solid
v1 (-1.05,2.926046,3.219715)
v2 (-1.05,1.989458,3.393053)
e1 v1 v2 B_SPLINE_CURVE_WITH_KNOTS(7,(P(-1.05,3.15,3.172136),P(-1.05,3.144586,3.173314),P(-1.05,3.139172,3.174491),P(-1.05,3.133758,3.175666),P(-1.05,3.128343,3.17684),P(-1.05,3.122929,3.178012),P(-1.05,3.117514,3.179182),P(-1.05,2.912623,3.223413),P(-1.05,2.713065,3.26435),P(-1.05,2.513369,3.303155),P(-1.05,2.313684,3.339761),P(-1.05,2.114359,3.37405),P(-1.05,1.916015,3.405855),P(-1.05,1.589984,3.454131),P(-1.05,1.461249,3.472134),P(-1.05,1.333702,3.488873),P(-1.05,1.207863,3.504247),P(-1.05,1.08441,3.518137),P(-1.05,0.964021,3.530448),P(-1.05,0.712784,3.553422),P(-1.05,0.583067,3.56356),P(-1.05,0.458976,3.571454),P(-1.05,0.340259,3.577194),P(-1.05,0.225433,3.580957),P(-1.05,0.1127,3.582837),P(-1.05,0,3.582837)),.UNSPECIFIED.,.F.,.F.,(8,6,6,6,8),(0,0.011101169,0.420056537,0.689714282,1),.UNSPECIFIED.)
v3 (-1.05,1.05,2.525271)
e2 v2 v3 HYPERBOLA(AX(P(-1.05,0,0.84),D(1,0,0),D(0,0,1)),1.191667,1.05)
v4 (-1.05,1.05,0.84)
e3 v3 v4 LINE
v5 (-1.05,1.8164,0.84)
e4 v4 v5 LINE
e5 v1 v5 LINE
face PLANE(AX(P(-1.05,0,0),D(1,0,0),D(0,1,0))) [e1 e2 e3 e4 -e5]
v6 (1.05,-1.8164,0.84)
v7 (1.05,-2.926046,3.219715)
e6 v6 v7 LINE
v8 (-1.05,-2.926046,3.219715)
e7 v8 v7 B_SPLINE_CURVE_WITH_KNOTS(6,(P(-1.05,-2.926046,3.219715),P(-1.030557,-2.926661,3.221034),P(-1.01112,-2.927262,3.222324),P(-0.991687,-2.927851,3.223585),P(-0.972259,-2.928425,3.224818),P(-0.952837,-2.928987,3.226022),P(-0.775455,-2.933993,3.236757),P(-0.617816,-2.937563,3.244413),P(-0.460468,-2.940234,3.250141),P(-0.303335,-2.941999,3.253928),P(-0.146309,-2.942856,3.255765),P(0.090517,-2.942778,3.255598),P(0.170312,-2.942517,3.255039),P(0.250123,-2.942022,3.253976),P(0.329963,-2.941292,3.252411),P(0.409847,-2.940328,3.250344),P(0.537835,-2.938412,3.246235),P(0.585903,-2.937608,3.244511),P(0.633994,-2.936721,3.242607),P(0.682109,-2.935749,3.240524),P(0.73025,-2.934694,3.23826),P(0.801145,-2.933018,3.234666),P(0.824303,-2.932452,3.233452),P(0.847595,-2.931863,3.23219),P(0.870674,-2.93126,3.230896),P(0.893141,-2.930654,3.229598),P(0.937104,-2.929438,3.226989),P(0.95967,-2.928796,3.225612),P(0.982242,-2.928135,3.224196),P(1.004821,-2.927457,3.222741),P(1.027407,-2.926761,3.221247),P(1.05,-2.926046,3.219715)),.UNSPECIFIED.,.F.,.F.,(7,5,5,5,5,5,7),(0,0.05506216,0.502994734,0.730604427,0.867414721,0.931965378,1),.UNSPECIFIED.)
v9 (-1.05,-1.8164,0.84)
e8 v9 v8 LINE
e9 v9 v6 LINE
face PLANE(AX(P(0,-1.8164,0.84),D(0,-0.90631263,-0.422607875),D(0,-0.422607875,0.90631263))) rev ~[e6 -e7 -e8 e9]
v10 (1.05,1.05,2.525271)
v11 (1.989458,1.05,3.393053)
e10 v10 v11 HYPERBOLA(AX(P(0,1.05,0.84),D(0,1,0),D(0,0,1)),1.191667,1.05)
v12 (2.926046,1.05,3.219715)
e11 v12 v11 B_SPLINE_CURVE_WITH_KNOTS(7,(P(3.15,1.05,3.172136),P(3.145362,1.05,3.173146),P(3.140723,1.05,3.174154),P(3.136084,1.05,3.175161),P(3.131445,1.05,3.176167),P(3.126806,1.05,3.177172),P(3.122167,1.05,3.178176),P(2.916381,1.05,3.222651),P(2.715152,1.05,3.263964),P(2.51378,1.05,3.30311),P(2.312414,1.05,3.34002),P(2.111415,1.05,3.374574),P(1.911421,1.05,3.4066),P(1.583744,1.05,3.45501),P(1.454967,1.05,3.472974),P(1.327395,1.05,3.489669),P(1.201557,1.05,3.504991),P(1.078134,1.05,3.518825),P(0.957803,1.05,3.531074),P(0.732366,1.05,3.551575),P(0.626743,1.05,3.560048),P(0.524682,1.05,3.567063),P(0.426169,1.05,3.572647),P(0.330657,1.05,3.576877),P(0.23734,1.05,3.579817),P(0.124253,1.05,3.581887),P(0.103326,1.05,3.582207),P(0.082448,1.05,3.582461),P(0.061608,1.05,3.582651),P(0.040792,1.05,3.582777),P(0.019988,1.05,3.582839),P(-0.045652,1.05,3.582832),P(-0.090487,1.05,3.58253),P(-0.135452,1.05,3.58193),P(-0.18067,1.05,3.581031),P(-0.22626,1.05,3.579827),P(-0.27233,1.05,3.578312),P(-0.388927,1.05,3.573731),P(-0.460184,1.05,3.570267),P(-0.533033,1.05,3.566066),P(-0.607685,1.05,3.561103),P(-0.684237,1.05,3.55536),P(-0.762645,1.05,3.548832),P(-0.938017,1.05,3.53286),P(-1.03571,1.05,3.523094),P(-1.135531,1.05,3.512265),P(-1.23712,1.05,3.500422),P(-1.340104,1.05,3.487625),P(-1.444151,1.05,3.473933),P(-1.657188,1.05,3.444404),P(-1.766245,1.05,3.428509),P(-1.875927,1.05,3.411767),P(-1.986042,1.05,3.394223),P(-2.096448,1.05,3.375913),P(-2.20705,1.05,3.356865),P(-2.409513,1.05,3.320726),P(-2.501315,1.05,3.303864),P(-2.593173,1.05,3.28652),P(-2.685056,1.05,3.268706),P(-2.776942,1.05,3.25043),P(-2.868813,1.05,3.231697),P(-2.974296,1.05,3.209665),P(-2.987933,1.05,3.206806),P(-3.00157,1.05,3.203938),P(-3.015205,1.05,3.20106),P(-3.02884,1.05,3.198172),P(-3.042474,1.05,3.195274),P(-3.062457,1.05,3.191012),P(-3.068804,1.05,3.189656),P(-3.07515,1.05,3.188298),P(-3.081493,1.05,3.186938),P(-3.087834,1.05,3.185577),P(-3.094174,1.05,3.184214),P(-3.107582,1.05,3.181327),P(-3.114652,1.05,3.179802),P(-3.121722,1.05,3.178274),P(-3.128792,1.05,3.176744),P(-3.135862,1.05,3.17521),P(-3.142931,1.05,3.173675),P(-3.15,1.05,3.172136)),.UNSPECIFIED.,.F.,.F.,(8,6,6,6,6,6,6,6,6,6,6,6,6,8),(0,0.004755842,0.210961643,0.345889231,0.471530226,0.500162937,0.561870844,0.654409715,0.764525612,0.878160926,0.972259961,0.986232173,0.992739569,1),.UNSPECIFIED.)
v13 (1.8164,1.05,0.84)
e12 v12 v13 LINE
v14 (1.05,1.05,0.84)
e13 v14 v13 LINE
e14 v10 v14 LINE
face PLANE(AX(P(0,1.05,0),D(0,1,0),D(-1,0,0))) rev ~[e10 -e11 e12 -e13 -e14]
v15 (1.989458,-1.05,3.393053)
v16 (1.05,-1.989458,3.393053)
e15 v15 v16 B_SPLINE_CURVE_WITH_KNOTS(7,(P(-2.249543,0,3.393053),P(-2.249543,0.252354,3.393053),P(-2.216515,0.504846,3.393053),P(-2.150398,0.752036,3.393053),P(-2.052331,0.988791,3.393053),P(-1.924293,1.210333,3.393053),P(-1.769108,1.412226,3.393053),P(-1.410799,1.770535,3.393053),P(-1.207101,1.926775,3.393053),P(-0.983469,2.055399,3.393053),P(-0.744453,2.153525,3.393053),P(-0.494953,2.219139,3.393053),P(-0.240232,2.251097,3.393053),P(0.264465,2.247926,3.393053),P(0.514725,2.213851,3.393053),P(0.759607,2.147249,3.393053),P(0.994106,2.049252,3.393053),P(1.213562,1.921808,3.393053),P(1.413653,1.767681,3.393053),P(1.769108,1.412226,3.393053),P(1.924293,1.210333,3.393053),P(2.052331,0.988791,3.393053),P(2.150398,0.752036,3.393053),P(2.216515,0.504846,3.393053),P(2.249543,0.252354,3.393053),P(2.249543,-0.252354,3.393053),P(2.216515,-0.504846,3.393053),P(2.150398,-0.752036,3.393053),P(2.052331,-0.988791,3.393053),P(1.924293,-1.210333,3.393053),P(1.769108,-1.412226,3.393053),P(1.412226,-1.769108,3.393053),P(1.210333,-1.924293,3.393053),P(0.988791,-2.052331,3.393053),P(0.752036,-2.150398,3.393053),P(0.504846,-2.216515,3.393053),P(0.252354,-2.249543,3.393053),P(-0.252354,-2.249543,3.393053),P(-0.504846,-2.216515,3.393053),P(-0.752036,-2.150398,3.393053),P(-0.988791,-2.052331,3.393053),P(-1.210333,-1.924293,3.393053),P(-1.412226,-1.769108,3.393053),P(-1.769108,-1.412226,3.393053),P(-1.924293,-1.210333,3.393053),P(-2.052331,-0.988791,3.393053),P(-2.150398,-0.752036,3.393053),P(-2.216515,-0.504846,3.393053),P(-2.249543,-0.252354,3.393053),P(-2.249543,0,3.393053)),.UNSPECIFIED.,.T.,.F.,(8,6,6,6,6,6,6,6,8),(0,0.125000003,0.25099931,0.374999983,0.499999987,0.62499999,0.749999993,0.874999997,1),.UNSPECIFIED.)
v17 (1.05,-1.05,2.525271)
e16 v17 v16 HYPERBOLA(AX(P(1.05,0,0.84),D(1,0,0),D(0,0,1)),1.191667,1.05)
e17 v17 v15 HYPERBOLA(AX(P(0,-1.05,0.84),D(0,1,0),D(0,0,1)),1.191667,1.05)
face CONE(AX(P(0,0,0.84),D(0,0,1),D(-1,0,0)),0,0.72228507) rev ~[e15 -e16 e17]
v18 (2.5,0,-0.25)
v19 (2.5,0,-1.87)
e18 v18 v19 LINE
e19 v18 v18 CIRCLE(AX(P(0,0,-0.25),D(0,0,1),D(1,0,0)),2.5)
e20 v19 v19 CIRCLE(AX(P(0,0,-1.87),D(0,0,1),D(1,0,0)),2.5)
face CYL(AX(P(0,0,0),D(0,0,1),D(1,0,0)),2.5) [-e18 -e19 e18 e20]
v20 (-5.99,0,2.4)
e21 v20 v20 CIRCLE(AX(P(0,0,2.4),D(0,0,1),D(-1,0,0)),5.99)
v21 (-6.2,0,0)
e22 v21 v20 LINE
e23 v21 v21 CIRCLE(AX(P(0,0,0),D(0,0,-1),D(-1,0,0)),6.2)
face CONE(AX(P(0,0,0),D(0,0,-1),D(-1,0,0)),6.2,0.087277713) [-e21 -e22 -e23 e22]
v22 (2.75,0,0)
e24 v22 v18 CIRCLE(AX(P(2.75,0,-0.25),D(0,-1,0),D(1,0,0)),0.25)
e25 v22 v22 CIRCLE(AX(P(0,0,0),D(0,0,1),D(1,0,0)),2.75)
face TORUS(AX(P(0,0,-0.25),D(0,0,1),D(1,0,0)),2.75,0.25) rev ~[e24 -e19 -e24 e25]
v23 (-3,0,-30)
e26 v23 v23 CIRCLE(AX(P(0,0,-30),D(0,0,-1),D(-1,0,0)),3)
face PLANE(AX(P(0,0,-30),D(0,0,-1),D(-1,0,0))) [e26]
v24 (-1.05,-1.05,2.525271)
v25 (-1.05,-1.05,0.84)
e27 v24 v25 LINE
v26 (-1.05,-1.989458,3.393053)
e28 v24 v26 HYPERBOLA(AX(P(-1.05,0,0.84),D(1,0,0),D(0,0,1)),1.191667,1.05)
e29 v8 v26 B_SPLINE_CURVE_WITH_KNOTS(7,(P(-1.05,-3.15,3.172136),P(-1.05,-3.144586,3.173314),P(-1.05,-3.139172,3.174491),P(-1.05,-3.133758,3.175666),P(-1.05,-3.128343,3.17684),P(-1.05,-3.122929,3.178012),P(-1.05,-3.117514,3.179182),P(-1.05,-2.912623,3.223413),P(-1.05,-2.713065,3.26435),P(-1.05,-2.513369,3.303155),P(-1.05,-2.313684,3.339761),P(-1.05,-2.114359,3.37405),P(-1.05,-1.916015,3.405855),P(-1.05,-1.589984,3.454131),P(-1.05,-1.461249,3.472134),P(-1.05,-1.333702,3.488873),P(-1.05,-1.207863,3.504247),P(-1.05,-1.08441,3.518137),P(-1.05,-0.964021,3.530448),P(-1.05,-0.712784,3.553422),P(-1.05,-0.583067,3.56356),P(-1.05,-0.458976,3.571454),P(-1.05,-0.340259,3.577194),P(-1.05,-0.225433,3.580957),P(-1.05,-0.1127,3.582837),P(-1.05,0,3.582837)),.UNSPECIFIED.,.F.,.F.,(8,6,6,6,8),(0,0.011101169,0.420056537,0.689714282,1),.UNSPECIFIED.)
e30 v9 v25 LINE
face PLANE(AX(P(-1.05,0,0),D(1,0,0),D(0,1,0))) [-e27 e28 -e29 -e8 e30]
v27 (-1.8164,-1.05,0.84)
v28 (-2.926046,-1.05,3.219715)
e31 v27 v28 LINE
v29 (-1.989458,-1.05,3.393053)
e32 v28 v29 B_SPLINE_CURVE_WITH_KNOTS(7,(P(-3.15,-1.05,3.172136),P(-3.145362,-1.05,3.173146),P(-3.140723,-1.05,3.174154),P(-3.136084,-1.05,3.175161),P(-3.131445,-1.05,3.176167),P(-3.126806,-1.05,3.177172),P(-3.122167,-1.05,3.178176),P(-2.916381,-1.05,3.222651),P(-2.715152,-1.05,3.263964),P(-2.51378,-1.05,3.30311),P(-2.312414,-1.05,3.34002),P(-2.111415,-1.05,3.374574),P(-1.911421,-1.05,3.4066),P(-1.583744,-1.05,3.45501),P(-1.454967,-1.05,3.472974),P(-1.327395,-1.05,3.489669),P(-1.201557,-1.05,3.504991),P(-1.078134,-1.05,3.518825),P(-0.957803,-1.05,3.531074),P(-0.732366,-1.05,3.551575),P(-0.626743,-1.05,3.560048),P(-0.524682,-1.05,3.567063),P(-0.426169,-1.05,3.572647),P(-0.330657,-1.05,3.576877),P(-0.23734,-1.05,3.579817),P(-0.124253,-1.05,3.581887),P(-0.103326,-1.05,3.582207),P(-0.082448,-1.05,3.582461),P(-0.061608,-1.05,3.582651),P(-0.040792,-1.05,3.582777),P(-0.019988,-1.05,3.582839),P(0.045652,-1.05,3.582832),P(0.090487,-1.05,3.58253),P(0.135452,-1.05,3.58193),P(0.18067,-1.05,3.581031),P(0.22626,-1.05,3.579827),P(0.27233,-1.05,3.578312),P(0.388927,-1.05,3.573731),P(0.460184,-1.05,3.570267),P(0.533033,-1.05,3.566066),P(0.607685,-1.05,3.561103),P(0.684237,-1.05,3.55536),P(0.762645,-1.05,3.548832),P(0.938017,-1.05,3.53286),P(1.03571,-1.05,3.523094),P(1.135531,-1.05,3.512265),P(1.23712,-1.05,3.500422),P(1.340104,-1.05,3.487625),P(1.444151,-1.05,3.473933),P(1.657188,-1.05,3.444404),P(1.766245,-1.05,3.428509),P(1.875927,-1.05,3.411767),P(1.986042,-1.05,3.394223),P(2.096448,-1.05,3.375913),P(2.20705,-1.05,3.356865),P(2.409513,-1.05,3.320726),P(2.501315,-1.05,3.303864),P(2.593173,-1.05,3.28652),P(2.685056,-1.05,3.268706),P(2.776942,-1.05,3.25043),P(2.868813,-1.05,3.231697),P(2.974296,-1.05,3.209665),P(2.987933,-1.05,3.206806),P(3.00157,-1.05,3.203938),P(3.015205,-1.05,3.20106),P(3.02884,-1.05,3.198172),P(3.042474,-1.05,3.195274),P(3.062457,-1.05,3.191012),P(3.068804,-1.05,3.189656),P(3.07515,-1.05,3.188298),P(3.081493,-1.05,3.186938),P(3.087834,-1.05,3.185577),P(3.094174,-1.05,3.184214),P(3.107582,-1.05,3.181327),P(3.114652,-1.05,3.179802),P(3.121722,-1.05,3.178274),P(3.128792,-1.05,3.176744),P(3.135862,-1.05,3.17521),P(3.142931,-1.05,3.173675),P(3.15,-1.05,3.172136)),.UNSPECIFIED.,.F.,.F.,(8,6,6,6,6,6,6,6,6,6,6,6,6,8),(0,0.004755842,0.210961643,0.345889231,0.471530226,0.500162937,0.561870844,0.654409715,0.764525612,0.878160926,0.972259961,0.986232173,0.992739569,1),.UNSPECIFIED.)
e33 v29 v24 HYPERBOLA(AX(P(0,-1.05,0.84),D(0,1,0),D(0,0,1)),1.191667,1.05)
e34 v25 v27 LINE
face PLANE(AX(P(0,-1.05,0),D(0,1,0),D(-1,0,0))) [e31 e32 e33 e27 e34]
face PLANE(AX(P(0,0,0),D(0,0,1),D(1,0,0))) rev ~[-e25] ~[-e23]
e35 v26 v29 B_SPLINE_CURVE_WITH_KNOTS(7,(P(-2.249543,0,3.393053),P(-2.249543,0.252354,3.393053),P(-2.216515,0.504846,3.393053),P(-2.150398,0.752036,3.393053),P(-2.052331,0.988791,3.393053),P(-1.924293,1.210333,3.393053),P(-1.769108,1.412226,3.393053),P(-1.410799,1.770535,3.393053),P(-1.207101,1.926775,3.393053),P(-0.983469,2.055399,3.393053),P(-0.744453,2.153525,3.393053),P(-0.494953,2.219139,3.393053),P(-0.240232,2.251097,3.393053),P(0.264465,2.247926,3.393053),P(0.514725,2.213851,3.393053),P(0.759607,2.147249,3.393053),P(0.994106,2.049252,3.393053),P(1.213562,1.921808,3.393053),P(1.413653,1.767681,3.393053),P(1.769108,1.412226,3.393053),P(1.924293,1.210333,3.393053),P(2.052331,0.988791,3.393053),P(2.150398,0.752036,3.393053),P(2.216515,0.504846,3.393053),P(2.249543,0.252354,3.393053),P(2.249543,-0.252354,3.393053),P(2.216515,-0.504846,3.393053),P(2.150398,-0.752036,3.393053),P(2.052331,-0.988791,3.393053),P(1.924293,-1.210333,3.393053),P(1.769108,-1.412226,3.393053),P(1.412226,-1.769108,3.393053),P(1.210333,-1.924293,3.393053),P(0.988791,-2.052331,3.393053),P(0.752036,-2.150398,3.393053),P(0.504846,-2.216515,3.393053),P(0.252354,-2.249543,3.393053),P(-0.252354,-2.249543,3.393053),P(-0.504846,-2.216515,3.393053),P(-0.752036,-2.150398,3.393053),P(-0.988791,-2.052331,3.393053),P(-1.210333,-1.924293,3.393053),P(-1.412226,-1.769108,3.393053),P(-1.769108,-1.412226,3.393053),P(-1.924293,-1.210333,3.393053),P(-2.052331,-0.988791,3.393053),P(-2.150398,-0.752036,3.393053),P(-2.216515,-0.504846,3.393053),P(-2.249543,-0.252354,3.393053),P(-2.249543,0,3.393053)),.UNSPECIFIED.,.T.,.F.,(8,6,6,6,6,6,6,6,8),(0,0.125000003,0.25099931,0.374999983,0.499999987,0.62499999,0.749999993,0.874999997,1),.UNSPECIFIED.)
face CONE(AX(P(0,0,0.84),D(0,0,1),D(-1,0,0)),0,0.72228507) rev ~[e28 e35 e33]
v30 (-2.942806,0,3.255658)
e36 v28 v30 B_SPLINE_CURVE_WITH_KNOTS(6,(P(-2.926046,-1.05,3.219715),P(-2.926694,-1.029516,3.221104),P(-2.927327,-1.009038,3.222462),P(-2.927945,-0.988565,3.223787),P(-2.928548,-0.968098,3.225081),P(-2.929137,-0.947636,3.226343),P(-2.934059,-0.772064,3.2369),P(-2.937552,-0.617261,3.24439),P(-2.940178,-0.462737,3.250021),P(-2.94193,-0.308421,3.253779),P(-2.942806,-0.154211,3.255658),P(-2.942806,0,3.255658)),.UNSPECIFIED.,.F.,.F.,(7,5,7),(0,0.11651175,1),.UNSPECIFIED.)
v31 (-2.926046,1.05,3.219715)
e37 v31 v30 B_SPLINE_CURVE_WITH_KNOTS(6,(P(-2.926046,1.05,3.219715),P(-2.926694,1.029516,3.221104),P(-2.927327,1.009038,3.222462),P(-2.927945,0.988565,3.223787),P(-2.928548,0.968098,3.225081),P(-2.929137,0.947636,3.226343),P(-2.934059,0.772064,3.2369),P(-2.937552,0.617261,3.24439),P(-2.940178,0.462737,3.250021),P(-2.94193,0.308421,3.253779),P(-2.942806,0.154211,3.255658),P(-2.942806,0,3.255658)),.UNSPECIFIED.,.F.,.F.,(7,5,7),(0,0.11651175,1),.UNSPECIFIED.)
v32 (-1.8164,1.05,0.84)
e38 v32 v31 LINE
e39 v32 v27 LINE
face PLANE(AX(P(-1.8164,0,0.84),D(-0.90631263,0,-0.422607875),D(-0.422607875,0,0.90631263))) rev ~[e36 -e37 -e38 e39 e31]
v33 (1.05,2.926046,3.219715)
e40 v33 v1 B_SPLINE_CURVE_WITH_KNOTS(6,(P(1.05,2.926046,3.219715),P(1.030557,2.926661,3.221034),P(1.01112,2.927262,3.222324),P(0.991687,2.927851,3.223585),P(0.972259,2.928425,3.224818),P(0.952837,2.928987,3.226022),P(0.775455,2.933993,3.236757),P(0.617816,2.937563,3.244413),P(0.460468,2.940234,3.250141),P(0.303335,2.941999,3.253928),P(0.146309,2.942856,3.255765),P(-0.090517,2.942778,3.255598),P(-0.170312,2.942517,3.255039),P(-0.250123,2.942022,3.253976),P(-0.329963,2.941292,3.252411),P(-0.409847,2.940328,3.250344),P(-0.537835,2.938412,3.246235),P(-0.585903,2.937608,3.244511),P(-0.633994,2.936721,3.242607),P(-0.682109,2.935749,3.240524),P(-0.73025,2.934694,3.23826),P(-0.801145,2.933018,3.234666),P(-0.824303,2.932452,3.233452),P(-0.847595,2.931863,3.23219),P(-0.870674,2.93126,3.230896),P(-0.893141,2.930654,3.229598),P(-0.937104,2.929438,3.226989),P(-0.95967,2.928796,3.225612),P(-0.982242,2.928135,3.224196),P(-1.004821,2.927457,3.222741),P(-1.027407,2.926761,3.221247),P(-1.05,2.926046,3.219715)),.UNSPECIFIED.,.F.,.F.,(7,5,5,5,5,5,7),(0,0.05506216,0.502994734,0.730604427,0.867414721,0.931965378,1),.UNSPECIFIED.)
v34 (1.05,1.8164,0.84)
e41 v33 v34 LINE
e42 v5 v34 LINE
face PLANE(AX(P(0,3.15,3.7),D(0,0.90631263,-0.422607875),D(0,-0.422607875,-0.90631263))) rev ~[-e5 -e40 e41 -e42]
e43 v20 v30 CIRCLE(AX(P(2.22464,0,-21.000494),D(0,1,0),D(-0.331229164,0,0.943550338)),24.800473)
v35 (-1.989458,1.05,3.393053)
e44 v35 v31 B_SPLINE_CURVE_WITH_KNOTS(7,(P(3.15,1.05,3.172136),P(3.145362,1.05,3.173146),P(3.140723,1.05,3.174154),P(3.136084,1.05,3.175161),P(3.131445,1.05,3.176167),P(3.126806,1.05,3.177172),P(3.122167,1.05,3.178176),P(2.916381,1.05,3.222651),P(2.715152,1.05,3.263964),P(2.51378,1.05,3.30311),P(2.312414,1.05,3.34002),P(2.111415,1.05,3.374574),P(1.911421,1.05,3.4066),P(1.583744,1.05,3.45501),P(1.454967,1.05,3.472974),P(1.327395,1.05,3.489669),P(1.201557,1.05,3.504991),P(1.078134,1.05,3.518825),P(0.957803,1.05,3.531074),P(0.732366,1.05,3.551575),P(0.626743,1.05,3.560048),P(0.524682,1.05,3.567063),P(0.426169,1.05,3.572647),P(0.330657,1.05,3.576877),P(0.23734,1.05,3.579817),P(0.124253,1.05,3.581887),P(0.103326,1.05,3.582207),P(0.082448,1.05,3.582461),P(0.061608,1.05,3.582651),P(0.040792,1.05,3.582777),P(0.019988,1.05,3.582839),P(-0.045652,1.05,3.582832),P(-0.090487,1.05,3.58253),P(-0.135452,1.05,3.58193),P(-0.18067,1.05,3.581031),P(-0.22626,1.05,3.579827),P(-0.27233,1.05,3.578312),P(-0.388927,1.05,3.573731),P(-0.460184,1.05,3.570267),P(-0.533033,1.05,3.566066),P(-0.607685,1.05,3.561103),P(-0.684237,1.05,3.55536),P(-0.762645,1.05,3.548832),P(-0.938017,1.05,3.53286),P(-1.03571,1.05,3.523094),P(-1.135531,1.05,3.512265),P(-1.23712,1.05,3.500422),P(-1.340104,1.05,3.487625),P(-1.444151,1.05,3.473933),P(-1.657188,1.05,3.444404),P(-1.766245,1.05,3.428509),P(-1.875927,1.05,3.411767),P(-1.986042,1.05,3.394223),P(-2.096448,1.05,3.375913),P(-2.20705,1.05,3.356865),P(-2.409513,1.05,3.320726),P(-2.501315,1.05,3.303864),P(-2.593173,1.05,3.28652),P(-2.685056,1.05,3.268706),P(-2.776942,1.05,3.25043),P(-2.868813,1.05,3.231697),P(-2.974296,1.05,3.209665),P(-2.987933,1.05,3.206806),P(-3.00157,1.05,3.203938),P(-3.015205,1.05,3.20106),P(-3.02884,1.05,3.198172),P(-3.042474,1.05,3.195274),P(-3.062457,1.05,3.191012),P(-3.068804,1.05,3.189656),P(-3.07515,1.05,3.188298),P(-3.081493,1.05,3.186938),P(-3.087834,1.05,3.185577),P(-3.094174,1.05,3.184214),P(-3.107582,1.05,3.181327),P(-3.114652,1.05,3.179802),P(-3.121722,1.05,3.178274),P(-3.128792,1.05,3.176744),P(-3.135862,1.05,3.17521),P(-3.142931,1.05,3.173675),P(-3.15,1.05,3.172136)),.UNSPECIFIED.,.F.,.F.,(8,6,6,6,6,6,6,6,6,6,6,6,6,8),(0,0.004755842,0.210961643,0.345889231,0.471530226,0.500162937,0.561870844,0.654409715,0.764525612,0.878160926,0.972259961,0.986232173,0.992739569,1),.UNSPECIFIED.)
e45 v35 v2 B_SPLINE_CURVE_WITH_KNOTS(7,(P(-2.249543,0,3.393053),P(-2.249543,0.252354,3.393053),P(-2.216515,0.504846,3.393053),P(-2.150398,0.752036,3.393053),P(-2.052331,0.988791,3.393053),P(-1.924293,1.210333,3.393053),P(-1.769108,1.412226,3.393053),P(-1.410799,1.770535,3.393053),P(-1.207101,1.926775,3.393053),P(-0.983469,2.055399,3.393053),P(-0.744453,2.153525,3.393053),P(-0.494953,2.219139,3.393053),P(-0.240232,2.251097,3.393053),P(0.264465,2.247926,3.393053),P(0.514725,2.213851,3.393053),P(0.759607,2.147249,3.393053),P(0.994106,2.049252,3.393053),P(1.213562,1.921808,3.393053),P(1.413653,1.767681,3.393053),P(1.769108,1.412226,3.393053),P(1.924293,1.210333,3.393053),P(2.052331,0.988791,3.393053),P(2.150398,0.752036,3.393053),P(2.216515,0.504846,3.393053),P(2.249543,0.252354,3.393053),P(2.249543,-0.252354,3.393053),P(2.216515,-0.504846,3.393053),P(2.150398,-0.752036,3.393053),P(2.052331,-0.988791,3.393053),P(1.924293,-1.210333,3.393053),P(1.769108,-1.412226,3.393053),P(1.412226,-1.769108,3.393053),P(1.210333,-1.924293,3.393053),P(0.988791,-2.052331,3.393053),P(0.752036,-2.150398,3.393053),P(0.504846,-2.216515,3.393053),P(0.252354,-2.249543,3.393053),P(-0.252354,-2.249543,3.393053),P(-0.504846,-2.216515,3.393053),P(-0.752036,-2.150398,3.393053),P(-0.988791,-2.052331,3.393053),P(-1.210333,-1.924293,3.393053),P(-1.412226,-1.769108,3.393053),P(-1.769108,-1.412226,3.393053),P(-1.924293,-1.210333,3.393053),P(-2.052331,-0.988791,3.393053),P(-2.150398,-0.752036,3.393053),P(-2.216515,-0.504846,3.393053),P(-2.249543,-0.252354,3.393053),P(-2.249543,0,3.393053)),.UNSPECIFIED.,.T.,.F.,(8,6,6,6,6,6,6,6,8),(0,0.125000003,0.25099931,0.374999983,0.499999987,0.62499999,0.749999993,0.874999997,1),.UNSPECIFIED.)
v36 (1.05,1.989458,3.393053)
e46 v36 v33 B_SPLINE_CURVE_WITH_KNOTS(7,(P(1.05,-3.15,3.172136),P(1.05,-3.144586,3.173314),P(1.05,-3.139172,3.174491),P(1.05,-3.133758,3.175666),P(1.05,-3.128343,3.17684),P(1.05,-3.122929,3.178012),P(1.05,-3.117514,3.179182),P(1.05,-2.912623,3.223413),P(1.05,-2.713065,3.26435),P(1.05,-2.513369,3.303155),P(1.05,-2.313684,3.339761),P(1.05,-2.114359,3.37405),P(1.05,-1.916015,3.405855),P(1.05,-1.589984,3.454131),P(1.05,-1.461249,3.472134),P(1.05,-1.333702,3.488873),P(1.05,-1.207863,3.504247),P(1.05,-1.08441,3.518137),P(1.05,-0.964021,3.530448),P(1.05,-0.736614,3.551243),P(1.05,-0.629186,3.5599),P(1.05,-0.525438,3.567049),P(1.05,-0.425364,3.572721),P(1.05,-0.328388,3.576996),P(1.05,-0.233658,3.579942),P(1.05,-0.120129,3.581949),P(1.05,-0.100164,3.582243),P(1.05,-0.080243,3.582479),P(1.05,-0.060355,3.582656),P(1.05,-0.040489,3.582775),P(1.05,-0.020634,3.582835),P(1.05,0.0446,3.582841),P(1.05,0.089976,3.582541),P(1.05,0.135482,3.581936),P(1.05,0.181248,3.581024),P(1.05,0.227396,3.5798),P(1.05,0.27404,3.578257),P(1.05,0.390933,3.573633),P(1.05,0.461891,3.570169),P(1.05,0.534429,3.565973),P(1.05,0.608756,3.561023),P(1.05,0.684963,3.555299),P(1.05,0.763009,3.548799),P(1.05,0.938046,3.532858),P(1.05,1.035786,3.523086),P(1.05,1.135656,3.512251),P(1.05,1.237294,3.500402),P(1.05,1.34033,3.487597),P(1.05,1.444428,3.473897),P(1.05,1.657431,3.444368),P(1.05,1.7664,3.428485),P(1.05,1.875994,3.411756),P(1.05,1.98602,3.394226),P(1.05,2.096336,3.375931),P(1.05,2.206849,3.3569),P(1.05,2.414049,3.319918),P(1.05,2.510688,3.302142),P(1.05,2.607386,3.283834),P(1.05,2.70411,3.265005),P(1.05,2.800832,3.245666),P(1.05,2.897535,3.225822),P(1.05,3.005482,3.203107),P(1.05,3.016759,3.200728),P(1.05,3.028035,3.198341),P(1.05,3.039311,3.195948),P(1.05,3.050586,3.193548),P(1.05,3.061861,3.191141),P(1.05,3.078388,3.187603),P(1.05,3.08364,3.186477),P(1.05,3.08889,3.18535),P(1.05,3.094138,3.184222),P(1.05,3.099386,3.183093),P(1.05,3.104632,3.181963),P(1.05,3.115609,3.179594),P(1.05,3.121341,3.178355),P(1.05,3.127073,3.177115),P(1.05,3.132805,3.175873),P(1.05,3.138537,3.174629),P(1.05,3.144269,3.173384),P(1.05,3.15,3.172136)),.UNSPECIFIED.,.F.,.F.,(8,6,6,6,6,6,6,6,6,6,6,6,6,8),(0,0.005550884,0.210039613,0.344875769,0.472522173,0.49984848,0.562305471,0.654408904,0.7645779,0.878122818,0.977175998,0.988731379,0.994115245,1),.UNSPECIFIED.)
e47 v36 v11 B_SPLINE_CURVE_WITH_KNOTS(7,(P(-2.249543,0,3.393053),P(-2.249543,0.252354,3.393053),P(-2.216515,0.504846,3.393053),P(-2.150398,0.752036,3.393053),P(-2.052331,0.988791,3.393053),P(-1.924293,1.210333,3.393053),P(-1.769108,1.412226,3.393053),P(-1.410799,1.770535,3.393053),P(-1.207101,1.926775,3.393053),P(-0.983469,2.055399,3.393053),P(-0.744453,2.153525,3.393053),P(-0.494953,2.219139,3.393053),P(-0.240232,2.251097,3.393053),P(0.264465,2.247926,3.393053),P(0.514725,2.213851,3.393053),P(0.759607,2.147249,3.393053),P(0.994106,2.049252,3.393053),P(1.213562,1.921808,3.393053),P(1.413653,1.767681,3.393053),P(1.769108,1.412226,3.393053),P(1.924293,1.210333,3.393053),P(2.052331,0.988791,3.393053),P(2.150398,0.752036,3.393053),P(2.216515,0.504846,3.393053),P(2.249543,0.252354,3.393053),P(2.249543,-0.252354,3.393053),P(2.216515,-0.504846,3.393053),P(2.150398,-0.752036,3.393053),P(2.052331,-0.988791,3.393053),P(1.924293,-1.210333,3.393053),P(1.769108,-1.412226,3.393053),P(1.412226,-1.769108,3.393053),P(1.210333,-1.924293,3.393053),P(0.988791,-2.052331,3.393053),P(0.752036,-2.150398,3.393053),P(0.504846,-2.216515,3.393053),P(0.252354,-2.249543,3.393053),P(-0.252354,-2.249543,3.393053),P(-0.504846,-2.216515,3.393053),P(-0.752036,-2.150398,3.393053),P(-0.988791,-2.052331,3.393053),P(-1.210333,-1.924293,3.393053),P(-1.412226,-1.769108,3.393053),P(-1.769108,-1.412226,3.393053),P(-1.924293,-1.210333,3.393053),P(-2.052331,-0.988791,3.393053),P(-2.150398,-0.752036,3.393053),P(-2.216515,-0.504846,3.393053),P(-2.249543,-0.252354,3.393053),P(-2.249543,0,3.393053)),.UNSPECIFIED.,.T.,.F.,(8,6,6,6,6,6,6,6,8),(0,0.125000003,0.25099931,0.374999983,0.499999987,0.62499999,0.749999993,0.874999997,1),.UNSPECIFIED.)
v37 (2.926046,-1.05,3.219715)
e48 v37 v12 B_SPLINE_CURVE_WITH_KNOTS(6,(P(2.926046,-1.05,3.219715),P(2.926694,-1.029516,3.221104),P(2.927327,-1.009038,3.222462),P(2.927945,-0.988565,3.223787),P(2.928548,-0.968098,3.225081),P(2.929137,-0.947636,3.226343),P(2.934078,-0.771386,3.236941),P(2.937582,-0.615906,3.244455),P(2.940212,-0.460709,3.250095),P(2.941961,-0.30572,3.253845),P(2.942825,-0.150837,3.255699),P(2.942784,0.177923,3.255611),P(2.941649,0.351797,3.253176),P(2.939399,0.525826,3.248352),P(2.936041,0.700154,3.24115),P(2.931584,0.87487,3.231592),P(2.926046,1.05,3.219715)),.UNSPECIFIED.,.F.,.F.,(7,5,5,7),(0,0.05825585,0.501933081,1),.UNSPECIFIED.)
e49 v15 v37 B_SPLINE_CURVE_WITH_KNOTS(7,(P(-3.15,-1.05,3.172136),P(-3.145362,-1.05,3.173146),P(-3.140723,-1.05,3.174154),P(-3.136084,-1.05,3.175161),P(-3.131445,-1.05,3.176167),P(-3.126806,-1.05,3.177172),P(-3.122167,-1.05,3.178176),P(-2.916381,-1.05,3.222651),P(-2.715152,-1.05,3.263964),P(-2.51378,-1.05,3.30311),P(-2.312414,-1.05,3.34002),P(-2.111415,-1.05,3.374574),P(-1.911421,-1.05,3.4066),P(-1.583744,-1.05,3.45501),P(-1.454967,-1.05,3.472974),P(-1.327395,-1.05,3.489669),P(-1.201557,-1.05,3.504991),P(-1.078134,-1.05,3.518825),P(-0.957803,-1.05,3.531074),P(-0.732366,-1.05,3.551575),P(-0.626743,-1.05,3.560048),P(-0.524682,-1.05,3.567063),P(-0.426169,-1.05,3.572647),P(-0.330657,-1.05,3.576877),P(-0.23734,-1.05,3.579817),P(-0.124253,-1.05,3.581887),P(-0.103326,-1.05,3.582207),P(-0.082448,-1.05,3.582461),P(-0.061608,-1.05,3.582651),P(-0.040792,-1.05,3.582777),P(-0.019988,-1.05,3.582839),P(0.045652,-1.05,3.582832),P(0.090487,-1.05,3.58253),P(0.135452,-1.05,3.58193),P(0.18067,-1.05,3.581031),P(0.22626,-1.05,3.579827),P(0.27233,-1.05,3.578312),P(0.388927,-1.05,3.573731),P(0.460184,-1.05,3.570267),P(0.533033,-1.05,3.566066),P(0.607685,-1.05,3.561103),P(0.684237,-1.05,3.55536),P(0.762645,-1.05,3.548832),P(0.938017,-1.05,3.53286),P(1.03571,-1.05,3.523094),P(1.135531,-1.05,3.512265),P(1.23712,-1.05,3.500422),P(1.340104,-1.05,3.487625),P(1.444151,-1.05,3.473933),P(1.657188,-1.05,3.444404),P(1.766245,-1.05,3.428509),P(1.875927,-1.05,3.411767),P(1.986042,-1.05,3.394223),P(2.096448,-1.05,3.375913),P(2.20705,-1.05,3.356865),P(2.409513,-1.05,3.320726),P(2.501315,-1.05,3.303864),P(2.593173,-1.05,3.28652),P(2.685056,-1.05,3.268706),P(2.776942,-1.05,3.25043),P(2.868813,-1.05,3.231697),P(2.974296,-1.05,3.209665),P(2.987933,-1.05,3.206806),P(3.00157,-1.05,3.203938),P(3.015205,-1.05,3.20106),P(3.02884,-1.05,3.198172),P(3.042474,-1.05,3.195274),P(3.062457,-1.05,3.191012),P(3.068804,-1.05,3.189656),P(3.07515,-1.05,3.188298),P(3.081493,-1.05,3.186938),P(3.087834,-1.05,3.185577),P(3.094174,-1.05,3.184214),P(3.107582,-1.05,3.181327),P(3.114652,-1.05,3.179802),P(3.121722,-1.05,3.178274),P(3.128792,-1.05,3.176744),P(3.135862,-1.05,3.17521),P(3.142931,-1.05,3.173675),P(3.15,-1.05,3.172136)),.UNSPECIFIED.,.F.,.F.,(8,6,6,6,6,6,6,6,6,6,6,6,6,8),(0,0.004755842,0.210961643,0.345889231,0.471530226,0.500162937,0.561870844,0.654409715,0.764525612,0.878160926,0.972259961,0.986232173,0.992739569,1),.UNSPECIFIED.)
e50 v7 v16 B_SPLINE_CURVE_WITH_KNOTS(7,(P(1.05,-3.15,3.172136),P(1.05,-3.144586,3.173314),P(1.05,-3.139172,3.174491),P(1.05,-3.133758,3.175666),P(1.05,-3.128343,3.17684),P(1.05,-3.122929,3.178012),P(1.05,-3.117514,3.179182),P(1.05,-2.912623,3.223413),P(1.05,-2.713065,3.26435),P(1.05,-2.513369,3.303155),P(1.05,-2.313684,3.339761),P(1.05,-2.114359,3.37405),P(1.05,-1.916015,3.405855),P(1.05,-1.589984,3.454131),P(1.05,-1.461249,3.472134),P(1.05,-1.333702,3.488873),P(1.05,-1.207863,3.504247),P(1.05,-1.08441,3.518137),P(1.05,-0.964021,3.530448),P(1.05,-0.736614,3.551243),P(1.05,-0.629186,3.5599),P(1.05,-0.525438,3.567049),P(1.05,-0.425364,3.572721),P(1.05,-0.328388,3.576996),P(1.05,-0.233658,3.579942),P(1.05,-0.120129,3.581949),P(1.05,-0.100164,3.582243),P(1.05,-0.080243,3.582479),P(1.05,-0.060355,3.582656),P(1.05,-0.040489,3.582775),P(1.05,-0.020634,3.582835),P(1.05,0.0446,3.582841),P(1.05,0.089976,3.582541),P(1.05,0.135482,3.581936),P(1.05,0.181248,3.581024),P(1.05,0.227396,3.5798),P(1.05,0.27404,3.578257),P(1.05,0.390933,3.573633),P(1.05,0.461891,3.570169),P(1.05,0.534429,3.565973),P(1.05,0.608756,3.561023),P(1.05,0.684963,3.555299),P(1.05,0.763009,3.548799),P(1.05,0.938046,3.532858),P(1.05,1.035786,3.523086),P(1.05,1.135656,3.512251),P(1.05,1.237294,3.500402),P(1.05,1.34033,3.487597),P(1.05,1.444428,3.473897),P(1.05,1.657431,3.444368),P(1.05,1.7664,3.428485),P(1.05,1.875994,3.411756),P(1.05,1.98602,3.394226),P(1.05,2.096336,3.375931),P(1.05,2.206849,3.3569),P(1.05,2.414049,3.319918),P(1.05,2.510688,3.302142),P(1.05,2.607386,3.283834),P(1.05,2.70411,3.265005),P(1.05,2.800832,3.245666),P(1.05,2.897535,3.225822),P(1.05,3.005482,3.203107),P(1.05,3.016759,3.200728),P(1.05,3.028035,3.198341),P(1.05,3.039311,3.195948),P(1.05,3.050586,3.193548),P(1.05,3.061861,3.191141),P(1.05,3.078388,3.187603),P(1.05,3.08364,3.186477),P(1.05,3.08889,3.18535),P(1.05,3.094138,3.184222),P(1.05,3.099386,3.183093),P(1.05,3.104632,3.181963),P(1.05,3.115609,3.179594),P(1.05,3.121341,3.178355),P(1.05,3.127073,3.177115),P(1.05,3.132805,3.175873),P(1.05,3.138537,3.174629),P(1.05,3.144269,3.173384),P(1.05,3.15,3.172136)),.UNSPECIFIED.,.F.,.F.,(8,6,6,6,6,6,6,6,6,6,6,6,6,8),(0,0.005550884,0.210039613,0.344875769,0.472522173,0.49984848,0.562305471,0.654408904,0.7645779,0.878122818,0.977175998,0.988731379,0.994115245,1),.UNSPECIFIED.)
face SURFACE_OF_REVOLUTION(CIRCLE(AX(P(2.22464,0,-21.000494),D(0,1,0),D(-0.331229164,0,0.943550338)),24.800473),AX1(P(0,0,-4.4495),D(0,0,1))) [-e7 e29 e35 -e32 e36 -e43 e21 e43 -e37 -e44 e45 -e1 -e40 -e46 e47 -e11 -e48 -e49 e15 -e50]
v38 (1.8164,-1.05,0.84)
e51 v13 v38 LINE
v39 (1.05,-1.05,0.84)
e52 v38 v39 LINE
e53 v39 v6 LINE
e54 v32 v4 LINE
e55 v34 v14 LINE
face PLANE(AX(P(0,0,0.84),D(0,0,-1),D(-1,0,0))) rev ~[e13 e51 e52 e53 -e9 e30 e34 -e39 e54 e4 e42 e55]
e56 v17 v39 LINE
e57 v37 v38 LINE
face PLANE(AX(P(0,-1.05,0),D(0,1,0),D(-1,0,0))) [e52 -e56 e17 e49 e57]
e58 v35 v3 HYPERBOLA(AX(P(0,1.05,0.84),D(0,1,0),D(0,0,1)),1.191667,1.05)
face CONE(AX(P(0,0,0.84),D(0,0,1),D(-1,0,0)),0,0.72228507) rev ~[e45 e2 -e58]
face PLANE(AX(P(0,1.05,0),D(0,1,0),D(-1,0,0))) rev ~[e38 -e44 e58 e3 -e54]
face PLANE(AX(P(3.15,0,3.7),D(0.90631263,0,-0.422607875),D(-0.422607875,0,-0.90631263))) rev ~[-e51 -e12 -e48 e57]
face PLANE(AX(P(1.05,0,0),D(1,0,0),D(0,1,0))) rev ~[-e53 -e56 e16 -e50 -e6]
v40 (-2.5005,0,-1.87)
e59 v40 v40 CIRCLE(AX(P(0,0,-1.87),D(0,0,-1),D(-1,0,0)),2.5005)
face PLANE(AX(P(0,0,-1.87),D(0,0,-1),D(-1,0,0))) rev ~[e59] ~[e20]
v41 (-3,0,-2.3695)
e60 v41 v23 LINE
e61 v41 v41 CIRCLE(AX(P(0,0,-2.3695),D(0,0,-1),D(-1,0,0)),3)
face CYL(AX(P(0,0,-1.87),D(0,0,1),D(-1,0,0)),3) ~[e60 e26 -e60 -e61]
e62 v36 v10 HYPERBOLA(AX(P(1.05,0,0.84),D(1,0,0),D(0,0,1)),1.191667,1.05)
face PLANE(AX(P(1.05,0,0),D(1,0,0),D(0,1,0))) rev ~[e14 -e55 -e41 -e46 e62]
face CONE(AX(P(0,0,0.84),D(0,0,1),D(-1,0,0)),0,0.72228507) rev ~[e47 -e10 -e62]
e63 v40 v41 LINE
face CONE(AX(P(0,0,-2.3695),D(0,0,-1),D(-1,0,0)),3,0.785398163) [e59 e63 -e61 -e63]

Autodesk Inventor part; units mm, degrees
ref_plane "YZ Plane" through (0, 0, 0) normal (1, 0, 0) x (0, 1, 0)
sketch "Эскиз2" plane through (0, 0, 0) normal (0, 0, 1) x (1, 0, 0)
  circle A0 centre (0, 0) radius 2.5
  dimension "d3" = 5
extrude "Выдавливание1" add sketch "Эскиз2" against normal blind 1.87
sketch "Эскиз3" plane through (0, 0, -1.87) normal (0, 0, -1) x (-1, 0, 0)
  circle A0 centre (0, 0) radius 3
  circle A1 centre (0, 0) radius 2.5 construction
  dimension "d28" = 360
  dimension "d9" = 6
extrude "Выдавливание2" add sketch "Эскиз3" along normal blind 28.13
chamfer "Фаска1" distance 0.5 distance2 0.5 1 edges at (3, 0, -1.87) measured on face at (-2.7801, -0.4387, -1.87)
sketch "Эскиз4" plane through (0, 0, 0) normal (0, 0, 1) x (1, 0, 0)
  circle A0 centre (0, 0) radius 6.2
  circle A1 centre (0, 0) radius 2.5 construction
  dimension "d15" = 12.4
extrude "Выдавливание3" add sketch "Эскиз4" along normal blind 2.4
fillet "Сопряжение1" radius 0.25 1 edges at (-2.5, 0, 0)
sketch "Эскиз5" plane through (0, 0, 0) normal (0, 1, 0) x (-1, 0, 0)
  line L0 (6.2, 2.4) -> (6.2, 0)
  line L1 (5.99, 2.4) -> (6.2, 2.4)
  line L2 (6.2, 0) -> (5.99, 2.4)
  line L3 (-6.2, 2.4) -> (6.2, 2.4) construction
  line L4 (-6.2, 0) -> (6.2, 0) construction
  line L5 (0, -0.48) -> (0, 2.88) projected
  line L6 (8.68, 0) -> (-8.68, 0) projected
  dimension "d20" = 5
  dimension "d56" = 6.2
  dimension "d57" = 2.4
revolve "Вращение1" cut sketch "Эскиз5" angle 360 about axis through (0, 0, -10) along (0, 0, 1)
sketch "Эскиз6" plane through (0, 0, 0) normal (0, 1, 0) x (-1, 0, 0)
  line L0 (0, 3.7) -> (0, 2.4)
  arc A0 (5.99, 2.4) -> (0, 3.7) centre (-2.2245, -21) ccw
  line L1 (0, 2.4) -> (5.99, 2.4)
  line L2 (5.99, 2.4) -> (-5.99, 2.4) construction
  line L3 (0, -4.4495) -> (0, 0.4495)
  line L4 (0, -25.9772) -> (0, 8.8629) projected
  line L5 (8.4344, 0) -> (-8.3941, 0) projected
  dimension "d58" = 1.3
  dimension "d59" = 5.99
  dimension "d60" = 0
  dimension "d62" = 24.8
revolve "Вращение2" add sketch "Эскиз6" angle 360 about axis through (0, 0, -4.4495) along (0, 0, 1)
sketch "Эскиз7" plane through (0, 0, 0) normal (0, 1, 0) x (-1, 0, 0)
  line L0 (3.15, 3.7) -> (-3.15, 3.7)
  line L1 (1.8164, 0.84) -> (3.15, 3.7)
  line L2 (-1.8164, 0.84) -> (1.8164, 0.84)
  line L3 (-3.15, 3.7) -> (-1.8164, 0.84)
  line L4 (0, 0.268) -> (0, 4.272) projected
  line L5 (4.41, 0) -> (-4.41, 0) projected
  dimension "d32" = 2.86
  dimension "d34" = 65
  dimension "d36" = 65
  dimension "d63" = 3.15
  dimension "d64" = 3.7
  dimension "d65" = 6.3
extrude "Выдавливание4" cut sketch "Эскиз7" against normal mid plane 2.1
sketch "Эскиз8" plane through (0, 0, 0) normal (1, 0, 0) x (0, 1, 0)
  line L0 (-1.8164, 0.84) -> (-3.15, 3.7)
  line L1 (1.8164, 0.84) -> (-1.8164, 0.84)
  line L2 (3.15, 3.7) -> (1.8164, 0.84)
  line L3 (-3.15, 3.7) -> (3.15, 3.7)
  line L4 (0, 0.268) -> (0, 4.272) projected
  line L5 (-4.41, 0) -> (4.41, 0) projected
  dimension "d40" = 65
  dimension "d42" = 65
  dimension "d44" = 2.86
  dimension "d66" = 6.3
  dimension "d67" = 3.7
  dimension "d69" = 3.15
extrude "Выдавливание5" cut sketch "Эскиз8" along normal mid plane 2.1
sketch "Эскиз9" plane through (0, 0, 0) normal (0, 1, 0) x (-1, 0, 0)
  line L0 (0, 3.7) -> (0, 0.84)
  line L1 (2.52, 3.7) -> (0, 3.7)
  line L2 (0, 0.84) -> (2.52, 3.7)
  line L3 (-6.2, 0) -> (6.2, 0) construction
  line L4 (0, -0.74) -> (0, 4.44) projected
  line L5 (8.68, 0) -> (-8.68, 0) projected
  dimension "d50" = 2.86
  dimension "d52" = 2.86
  dimension "d54" = 2.52
  dimension "d70" = 0
  dimension "d71" = 3.7
revolve "Вращение3" cut sketch "Эскиз9" angle 360 about axis through (0, 0, -10) along (0, 0, 1)
thread "Резьба1" size "M6x1" class "6g" standard "ISO Metric profile" full length
ref_plane "MSC_PF1" through (0, 0, 0) normal (1, 0, 0) x (0, 1, 0)
ref_plane "MSC_PT1" through (0, 0, 0) normal (0, 0, -1) x (-1, 0, 0)
equation "\"d4\" = -b + NLG"
equation "\"d9\" = NND"
equation "\"d10\" = b"
equation "\"d12\" = -0.5 * msp_ds + 0.5 * NND"
equation "\"d13\" = 0.5 * NND - 0.5 * msp_ds"
equation "\"d15\" = Dk"
equation "\"d16\" = ParK"
equation "\"d18\" = r"
equation "\"d32\" = q"
equation "\"d63\" = 0.5 * M"
equation "\"d64\" = ParK + ParF"
equation "\"d65\" = M"
equation "\"d37\" = 2 * msp_s"
equation "\"d44\" = q"
equation "\"d66\" = M"
equation "\"d67\" = ParK + ParF"
equation "\"d69\" = 0.5 * M"
equation "\"d47\" = 2 * msp_s"
equation "\"d3\" = msp_ds"
equation "\"d56\" = 0.5 * Dk"
equation "\"d57\" = ParK"
equation "\"d58\" = ParF"
equation "\"d59\" = 0.5 * Dk - msp_v"
equation "\"d62\" = 2 * Dk"
equation "\"d50\" = q"
equation "\"d52\" = q"
equation "\"d54\" = msp_rr"
equation "\"d71\" = ParK + ParF"
equation "\"PTC\" = 1"
equation "\"NLG\" = 30"
equation "\"Dk\" = 12.4"
equation "\"ParK\" = 2.4"
equation "\"NND\" = 6"
equation "\"M\" = 6.3"
equation "\"q\" = 2.86"
equation "\"r\" = 0.25"
equation "\"msp_ds\" = NND - PTC"
equation "\"b\" = 28.13"
equation "\"msp_x\" = 1.25 * PTC"
equation "\"msp_s\" = 0.166667 * M"
equation "\"msp_rr\" = 0.4 * M"
equation "\"ParF\" = 1.3"
equation "\"msp_v\" = 0.0874887 * ParK"
equation "\"THREADDIA\" = NND"
properties part number "JIS B 1111 - M6x30" material "Сталь, мягкая"
